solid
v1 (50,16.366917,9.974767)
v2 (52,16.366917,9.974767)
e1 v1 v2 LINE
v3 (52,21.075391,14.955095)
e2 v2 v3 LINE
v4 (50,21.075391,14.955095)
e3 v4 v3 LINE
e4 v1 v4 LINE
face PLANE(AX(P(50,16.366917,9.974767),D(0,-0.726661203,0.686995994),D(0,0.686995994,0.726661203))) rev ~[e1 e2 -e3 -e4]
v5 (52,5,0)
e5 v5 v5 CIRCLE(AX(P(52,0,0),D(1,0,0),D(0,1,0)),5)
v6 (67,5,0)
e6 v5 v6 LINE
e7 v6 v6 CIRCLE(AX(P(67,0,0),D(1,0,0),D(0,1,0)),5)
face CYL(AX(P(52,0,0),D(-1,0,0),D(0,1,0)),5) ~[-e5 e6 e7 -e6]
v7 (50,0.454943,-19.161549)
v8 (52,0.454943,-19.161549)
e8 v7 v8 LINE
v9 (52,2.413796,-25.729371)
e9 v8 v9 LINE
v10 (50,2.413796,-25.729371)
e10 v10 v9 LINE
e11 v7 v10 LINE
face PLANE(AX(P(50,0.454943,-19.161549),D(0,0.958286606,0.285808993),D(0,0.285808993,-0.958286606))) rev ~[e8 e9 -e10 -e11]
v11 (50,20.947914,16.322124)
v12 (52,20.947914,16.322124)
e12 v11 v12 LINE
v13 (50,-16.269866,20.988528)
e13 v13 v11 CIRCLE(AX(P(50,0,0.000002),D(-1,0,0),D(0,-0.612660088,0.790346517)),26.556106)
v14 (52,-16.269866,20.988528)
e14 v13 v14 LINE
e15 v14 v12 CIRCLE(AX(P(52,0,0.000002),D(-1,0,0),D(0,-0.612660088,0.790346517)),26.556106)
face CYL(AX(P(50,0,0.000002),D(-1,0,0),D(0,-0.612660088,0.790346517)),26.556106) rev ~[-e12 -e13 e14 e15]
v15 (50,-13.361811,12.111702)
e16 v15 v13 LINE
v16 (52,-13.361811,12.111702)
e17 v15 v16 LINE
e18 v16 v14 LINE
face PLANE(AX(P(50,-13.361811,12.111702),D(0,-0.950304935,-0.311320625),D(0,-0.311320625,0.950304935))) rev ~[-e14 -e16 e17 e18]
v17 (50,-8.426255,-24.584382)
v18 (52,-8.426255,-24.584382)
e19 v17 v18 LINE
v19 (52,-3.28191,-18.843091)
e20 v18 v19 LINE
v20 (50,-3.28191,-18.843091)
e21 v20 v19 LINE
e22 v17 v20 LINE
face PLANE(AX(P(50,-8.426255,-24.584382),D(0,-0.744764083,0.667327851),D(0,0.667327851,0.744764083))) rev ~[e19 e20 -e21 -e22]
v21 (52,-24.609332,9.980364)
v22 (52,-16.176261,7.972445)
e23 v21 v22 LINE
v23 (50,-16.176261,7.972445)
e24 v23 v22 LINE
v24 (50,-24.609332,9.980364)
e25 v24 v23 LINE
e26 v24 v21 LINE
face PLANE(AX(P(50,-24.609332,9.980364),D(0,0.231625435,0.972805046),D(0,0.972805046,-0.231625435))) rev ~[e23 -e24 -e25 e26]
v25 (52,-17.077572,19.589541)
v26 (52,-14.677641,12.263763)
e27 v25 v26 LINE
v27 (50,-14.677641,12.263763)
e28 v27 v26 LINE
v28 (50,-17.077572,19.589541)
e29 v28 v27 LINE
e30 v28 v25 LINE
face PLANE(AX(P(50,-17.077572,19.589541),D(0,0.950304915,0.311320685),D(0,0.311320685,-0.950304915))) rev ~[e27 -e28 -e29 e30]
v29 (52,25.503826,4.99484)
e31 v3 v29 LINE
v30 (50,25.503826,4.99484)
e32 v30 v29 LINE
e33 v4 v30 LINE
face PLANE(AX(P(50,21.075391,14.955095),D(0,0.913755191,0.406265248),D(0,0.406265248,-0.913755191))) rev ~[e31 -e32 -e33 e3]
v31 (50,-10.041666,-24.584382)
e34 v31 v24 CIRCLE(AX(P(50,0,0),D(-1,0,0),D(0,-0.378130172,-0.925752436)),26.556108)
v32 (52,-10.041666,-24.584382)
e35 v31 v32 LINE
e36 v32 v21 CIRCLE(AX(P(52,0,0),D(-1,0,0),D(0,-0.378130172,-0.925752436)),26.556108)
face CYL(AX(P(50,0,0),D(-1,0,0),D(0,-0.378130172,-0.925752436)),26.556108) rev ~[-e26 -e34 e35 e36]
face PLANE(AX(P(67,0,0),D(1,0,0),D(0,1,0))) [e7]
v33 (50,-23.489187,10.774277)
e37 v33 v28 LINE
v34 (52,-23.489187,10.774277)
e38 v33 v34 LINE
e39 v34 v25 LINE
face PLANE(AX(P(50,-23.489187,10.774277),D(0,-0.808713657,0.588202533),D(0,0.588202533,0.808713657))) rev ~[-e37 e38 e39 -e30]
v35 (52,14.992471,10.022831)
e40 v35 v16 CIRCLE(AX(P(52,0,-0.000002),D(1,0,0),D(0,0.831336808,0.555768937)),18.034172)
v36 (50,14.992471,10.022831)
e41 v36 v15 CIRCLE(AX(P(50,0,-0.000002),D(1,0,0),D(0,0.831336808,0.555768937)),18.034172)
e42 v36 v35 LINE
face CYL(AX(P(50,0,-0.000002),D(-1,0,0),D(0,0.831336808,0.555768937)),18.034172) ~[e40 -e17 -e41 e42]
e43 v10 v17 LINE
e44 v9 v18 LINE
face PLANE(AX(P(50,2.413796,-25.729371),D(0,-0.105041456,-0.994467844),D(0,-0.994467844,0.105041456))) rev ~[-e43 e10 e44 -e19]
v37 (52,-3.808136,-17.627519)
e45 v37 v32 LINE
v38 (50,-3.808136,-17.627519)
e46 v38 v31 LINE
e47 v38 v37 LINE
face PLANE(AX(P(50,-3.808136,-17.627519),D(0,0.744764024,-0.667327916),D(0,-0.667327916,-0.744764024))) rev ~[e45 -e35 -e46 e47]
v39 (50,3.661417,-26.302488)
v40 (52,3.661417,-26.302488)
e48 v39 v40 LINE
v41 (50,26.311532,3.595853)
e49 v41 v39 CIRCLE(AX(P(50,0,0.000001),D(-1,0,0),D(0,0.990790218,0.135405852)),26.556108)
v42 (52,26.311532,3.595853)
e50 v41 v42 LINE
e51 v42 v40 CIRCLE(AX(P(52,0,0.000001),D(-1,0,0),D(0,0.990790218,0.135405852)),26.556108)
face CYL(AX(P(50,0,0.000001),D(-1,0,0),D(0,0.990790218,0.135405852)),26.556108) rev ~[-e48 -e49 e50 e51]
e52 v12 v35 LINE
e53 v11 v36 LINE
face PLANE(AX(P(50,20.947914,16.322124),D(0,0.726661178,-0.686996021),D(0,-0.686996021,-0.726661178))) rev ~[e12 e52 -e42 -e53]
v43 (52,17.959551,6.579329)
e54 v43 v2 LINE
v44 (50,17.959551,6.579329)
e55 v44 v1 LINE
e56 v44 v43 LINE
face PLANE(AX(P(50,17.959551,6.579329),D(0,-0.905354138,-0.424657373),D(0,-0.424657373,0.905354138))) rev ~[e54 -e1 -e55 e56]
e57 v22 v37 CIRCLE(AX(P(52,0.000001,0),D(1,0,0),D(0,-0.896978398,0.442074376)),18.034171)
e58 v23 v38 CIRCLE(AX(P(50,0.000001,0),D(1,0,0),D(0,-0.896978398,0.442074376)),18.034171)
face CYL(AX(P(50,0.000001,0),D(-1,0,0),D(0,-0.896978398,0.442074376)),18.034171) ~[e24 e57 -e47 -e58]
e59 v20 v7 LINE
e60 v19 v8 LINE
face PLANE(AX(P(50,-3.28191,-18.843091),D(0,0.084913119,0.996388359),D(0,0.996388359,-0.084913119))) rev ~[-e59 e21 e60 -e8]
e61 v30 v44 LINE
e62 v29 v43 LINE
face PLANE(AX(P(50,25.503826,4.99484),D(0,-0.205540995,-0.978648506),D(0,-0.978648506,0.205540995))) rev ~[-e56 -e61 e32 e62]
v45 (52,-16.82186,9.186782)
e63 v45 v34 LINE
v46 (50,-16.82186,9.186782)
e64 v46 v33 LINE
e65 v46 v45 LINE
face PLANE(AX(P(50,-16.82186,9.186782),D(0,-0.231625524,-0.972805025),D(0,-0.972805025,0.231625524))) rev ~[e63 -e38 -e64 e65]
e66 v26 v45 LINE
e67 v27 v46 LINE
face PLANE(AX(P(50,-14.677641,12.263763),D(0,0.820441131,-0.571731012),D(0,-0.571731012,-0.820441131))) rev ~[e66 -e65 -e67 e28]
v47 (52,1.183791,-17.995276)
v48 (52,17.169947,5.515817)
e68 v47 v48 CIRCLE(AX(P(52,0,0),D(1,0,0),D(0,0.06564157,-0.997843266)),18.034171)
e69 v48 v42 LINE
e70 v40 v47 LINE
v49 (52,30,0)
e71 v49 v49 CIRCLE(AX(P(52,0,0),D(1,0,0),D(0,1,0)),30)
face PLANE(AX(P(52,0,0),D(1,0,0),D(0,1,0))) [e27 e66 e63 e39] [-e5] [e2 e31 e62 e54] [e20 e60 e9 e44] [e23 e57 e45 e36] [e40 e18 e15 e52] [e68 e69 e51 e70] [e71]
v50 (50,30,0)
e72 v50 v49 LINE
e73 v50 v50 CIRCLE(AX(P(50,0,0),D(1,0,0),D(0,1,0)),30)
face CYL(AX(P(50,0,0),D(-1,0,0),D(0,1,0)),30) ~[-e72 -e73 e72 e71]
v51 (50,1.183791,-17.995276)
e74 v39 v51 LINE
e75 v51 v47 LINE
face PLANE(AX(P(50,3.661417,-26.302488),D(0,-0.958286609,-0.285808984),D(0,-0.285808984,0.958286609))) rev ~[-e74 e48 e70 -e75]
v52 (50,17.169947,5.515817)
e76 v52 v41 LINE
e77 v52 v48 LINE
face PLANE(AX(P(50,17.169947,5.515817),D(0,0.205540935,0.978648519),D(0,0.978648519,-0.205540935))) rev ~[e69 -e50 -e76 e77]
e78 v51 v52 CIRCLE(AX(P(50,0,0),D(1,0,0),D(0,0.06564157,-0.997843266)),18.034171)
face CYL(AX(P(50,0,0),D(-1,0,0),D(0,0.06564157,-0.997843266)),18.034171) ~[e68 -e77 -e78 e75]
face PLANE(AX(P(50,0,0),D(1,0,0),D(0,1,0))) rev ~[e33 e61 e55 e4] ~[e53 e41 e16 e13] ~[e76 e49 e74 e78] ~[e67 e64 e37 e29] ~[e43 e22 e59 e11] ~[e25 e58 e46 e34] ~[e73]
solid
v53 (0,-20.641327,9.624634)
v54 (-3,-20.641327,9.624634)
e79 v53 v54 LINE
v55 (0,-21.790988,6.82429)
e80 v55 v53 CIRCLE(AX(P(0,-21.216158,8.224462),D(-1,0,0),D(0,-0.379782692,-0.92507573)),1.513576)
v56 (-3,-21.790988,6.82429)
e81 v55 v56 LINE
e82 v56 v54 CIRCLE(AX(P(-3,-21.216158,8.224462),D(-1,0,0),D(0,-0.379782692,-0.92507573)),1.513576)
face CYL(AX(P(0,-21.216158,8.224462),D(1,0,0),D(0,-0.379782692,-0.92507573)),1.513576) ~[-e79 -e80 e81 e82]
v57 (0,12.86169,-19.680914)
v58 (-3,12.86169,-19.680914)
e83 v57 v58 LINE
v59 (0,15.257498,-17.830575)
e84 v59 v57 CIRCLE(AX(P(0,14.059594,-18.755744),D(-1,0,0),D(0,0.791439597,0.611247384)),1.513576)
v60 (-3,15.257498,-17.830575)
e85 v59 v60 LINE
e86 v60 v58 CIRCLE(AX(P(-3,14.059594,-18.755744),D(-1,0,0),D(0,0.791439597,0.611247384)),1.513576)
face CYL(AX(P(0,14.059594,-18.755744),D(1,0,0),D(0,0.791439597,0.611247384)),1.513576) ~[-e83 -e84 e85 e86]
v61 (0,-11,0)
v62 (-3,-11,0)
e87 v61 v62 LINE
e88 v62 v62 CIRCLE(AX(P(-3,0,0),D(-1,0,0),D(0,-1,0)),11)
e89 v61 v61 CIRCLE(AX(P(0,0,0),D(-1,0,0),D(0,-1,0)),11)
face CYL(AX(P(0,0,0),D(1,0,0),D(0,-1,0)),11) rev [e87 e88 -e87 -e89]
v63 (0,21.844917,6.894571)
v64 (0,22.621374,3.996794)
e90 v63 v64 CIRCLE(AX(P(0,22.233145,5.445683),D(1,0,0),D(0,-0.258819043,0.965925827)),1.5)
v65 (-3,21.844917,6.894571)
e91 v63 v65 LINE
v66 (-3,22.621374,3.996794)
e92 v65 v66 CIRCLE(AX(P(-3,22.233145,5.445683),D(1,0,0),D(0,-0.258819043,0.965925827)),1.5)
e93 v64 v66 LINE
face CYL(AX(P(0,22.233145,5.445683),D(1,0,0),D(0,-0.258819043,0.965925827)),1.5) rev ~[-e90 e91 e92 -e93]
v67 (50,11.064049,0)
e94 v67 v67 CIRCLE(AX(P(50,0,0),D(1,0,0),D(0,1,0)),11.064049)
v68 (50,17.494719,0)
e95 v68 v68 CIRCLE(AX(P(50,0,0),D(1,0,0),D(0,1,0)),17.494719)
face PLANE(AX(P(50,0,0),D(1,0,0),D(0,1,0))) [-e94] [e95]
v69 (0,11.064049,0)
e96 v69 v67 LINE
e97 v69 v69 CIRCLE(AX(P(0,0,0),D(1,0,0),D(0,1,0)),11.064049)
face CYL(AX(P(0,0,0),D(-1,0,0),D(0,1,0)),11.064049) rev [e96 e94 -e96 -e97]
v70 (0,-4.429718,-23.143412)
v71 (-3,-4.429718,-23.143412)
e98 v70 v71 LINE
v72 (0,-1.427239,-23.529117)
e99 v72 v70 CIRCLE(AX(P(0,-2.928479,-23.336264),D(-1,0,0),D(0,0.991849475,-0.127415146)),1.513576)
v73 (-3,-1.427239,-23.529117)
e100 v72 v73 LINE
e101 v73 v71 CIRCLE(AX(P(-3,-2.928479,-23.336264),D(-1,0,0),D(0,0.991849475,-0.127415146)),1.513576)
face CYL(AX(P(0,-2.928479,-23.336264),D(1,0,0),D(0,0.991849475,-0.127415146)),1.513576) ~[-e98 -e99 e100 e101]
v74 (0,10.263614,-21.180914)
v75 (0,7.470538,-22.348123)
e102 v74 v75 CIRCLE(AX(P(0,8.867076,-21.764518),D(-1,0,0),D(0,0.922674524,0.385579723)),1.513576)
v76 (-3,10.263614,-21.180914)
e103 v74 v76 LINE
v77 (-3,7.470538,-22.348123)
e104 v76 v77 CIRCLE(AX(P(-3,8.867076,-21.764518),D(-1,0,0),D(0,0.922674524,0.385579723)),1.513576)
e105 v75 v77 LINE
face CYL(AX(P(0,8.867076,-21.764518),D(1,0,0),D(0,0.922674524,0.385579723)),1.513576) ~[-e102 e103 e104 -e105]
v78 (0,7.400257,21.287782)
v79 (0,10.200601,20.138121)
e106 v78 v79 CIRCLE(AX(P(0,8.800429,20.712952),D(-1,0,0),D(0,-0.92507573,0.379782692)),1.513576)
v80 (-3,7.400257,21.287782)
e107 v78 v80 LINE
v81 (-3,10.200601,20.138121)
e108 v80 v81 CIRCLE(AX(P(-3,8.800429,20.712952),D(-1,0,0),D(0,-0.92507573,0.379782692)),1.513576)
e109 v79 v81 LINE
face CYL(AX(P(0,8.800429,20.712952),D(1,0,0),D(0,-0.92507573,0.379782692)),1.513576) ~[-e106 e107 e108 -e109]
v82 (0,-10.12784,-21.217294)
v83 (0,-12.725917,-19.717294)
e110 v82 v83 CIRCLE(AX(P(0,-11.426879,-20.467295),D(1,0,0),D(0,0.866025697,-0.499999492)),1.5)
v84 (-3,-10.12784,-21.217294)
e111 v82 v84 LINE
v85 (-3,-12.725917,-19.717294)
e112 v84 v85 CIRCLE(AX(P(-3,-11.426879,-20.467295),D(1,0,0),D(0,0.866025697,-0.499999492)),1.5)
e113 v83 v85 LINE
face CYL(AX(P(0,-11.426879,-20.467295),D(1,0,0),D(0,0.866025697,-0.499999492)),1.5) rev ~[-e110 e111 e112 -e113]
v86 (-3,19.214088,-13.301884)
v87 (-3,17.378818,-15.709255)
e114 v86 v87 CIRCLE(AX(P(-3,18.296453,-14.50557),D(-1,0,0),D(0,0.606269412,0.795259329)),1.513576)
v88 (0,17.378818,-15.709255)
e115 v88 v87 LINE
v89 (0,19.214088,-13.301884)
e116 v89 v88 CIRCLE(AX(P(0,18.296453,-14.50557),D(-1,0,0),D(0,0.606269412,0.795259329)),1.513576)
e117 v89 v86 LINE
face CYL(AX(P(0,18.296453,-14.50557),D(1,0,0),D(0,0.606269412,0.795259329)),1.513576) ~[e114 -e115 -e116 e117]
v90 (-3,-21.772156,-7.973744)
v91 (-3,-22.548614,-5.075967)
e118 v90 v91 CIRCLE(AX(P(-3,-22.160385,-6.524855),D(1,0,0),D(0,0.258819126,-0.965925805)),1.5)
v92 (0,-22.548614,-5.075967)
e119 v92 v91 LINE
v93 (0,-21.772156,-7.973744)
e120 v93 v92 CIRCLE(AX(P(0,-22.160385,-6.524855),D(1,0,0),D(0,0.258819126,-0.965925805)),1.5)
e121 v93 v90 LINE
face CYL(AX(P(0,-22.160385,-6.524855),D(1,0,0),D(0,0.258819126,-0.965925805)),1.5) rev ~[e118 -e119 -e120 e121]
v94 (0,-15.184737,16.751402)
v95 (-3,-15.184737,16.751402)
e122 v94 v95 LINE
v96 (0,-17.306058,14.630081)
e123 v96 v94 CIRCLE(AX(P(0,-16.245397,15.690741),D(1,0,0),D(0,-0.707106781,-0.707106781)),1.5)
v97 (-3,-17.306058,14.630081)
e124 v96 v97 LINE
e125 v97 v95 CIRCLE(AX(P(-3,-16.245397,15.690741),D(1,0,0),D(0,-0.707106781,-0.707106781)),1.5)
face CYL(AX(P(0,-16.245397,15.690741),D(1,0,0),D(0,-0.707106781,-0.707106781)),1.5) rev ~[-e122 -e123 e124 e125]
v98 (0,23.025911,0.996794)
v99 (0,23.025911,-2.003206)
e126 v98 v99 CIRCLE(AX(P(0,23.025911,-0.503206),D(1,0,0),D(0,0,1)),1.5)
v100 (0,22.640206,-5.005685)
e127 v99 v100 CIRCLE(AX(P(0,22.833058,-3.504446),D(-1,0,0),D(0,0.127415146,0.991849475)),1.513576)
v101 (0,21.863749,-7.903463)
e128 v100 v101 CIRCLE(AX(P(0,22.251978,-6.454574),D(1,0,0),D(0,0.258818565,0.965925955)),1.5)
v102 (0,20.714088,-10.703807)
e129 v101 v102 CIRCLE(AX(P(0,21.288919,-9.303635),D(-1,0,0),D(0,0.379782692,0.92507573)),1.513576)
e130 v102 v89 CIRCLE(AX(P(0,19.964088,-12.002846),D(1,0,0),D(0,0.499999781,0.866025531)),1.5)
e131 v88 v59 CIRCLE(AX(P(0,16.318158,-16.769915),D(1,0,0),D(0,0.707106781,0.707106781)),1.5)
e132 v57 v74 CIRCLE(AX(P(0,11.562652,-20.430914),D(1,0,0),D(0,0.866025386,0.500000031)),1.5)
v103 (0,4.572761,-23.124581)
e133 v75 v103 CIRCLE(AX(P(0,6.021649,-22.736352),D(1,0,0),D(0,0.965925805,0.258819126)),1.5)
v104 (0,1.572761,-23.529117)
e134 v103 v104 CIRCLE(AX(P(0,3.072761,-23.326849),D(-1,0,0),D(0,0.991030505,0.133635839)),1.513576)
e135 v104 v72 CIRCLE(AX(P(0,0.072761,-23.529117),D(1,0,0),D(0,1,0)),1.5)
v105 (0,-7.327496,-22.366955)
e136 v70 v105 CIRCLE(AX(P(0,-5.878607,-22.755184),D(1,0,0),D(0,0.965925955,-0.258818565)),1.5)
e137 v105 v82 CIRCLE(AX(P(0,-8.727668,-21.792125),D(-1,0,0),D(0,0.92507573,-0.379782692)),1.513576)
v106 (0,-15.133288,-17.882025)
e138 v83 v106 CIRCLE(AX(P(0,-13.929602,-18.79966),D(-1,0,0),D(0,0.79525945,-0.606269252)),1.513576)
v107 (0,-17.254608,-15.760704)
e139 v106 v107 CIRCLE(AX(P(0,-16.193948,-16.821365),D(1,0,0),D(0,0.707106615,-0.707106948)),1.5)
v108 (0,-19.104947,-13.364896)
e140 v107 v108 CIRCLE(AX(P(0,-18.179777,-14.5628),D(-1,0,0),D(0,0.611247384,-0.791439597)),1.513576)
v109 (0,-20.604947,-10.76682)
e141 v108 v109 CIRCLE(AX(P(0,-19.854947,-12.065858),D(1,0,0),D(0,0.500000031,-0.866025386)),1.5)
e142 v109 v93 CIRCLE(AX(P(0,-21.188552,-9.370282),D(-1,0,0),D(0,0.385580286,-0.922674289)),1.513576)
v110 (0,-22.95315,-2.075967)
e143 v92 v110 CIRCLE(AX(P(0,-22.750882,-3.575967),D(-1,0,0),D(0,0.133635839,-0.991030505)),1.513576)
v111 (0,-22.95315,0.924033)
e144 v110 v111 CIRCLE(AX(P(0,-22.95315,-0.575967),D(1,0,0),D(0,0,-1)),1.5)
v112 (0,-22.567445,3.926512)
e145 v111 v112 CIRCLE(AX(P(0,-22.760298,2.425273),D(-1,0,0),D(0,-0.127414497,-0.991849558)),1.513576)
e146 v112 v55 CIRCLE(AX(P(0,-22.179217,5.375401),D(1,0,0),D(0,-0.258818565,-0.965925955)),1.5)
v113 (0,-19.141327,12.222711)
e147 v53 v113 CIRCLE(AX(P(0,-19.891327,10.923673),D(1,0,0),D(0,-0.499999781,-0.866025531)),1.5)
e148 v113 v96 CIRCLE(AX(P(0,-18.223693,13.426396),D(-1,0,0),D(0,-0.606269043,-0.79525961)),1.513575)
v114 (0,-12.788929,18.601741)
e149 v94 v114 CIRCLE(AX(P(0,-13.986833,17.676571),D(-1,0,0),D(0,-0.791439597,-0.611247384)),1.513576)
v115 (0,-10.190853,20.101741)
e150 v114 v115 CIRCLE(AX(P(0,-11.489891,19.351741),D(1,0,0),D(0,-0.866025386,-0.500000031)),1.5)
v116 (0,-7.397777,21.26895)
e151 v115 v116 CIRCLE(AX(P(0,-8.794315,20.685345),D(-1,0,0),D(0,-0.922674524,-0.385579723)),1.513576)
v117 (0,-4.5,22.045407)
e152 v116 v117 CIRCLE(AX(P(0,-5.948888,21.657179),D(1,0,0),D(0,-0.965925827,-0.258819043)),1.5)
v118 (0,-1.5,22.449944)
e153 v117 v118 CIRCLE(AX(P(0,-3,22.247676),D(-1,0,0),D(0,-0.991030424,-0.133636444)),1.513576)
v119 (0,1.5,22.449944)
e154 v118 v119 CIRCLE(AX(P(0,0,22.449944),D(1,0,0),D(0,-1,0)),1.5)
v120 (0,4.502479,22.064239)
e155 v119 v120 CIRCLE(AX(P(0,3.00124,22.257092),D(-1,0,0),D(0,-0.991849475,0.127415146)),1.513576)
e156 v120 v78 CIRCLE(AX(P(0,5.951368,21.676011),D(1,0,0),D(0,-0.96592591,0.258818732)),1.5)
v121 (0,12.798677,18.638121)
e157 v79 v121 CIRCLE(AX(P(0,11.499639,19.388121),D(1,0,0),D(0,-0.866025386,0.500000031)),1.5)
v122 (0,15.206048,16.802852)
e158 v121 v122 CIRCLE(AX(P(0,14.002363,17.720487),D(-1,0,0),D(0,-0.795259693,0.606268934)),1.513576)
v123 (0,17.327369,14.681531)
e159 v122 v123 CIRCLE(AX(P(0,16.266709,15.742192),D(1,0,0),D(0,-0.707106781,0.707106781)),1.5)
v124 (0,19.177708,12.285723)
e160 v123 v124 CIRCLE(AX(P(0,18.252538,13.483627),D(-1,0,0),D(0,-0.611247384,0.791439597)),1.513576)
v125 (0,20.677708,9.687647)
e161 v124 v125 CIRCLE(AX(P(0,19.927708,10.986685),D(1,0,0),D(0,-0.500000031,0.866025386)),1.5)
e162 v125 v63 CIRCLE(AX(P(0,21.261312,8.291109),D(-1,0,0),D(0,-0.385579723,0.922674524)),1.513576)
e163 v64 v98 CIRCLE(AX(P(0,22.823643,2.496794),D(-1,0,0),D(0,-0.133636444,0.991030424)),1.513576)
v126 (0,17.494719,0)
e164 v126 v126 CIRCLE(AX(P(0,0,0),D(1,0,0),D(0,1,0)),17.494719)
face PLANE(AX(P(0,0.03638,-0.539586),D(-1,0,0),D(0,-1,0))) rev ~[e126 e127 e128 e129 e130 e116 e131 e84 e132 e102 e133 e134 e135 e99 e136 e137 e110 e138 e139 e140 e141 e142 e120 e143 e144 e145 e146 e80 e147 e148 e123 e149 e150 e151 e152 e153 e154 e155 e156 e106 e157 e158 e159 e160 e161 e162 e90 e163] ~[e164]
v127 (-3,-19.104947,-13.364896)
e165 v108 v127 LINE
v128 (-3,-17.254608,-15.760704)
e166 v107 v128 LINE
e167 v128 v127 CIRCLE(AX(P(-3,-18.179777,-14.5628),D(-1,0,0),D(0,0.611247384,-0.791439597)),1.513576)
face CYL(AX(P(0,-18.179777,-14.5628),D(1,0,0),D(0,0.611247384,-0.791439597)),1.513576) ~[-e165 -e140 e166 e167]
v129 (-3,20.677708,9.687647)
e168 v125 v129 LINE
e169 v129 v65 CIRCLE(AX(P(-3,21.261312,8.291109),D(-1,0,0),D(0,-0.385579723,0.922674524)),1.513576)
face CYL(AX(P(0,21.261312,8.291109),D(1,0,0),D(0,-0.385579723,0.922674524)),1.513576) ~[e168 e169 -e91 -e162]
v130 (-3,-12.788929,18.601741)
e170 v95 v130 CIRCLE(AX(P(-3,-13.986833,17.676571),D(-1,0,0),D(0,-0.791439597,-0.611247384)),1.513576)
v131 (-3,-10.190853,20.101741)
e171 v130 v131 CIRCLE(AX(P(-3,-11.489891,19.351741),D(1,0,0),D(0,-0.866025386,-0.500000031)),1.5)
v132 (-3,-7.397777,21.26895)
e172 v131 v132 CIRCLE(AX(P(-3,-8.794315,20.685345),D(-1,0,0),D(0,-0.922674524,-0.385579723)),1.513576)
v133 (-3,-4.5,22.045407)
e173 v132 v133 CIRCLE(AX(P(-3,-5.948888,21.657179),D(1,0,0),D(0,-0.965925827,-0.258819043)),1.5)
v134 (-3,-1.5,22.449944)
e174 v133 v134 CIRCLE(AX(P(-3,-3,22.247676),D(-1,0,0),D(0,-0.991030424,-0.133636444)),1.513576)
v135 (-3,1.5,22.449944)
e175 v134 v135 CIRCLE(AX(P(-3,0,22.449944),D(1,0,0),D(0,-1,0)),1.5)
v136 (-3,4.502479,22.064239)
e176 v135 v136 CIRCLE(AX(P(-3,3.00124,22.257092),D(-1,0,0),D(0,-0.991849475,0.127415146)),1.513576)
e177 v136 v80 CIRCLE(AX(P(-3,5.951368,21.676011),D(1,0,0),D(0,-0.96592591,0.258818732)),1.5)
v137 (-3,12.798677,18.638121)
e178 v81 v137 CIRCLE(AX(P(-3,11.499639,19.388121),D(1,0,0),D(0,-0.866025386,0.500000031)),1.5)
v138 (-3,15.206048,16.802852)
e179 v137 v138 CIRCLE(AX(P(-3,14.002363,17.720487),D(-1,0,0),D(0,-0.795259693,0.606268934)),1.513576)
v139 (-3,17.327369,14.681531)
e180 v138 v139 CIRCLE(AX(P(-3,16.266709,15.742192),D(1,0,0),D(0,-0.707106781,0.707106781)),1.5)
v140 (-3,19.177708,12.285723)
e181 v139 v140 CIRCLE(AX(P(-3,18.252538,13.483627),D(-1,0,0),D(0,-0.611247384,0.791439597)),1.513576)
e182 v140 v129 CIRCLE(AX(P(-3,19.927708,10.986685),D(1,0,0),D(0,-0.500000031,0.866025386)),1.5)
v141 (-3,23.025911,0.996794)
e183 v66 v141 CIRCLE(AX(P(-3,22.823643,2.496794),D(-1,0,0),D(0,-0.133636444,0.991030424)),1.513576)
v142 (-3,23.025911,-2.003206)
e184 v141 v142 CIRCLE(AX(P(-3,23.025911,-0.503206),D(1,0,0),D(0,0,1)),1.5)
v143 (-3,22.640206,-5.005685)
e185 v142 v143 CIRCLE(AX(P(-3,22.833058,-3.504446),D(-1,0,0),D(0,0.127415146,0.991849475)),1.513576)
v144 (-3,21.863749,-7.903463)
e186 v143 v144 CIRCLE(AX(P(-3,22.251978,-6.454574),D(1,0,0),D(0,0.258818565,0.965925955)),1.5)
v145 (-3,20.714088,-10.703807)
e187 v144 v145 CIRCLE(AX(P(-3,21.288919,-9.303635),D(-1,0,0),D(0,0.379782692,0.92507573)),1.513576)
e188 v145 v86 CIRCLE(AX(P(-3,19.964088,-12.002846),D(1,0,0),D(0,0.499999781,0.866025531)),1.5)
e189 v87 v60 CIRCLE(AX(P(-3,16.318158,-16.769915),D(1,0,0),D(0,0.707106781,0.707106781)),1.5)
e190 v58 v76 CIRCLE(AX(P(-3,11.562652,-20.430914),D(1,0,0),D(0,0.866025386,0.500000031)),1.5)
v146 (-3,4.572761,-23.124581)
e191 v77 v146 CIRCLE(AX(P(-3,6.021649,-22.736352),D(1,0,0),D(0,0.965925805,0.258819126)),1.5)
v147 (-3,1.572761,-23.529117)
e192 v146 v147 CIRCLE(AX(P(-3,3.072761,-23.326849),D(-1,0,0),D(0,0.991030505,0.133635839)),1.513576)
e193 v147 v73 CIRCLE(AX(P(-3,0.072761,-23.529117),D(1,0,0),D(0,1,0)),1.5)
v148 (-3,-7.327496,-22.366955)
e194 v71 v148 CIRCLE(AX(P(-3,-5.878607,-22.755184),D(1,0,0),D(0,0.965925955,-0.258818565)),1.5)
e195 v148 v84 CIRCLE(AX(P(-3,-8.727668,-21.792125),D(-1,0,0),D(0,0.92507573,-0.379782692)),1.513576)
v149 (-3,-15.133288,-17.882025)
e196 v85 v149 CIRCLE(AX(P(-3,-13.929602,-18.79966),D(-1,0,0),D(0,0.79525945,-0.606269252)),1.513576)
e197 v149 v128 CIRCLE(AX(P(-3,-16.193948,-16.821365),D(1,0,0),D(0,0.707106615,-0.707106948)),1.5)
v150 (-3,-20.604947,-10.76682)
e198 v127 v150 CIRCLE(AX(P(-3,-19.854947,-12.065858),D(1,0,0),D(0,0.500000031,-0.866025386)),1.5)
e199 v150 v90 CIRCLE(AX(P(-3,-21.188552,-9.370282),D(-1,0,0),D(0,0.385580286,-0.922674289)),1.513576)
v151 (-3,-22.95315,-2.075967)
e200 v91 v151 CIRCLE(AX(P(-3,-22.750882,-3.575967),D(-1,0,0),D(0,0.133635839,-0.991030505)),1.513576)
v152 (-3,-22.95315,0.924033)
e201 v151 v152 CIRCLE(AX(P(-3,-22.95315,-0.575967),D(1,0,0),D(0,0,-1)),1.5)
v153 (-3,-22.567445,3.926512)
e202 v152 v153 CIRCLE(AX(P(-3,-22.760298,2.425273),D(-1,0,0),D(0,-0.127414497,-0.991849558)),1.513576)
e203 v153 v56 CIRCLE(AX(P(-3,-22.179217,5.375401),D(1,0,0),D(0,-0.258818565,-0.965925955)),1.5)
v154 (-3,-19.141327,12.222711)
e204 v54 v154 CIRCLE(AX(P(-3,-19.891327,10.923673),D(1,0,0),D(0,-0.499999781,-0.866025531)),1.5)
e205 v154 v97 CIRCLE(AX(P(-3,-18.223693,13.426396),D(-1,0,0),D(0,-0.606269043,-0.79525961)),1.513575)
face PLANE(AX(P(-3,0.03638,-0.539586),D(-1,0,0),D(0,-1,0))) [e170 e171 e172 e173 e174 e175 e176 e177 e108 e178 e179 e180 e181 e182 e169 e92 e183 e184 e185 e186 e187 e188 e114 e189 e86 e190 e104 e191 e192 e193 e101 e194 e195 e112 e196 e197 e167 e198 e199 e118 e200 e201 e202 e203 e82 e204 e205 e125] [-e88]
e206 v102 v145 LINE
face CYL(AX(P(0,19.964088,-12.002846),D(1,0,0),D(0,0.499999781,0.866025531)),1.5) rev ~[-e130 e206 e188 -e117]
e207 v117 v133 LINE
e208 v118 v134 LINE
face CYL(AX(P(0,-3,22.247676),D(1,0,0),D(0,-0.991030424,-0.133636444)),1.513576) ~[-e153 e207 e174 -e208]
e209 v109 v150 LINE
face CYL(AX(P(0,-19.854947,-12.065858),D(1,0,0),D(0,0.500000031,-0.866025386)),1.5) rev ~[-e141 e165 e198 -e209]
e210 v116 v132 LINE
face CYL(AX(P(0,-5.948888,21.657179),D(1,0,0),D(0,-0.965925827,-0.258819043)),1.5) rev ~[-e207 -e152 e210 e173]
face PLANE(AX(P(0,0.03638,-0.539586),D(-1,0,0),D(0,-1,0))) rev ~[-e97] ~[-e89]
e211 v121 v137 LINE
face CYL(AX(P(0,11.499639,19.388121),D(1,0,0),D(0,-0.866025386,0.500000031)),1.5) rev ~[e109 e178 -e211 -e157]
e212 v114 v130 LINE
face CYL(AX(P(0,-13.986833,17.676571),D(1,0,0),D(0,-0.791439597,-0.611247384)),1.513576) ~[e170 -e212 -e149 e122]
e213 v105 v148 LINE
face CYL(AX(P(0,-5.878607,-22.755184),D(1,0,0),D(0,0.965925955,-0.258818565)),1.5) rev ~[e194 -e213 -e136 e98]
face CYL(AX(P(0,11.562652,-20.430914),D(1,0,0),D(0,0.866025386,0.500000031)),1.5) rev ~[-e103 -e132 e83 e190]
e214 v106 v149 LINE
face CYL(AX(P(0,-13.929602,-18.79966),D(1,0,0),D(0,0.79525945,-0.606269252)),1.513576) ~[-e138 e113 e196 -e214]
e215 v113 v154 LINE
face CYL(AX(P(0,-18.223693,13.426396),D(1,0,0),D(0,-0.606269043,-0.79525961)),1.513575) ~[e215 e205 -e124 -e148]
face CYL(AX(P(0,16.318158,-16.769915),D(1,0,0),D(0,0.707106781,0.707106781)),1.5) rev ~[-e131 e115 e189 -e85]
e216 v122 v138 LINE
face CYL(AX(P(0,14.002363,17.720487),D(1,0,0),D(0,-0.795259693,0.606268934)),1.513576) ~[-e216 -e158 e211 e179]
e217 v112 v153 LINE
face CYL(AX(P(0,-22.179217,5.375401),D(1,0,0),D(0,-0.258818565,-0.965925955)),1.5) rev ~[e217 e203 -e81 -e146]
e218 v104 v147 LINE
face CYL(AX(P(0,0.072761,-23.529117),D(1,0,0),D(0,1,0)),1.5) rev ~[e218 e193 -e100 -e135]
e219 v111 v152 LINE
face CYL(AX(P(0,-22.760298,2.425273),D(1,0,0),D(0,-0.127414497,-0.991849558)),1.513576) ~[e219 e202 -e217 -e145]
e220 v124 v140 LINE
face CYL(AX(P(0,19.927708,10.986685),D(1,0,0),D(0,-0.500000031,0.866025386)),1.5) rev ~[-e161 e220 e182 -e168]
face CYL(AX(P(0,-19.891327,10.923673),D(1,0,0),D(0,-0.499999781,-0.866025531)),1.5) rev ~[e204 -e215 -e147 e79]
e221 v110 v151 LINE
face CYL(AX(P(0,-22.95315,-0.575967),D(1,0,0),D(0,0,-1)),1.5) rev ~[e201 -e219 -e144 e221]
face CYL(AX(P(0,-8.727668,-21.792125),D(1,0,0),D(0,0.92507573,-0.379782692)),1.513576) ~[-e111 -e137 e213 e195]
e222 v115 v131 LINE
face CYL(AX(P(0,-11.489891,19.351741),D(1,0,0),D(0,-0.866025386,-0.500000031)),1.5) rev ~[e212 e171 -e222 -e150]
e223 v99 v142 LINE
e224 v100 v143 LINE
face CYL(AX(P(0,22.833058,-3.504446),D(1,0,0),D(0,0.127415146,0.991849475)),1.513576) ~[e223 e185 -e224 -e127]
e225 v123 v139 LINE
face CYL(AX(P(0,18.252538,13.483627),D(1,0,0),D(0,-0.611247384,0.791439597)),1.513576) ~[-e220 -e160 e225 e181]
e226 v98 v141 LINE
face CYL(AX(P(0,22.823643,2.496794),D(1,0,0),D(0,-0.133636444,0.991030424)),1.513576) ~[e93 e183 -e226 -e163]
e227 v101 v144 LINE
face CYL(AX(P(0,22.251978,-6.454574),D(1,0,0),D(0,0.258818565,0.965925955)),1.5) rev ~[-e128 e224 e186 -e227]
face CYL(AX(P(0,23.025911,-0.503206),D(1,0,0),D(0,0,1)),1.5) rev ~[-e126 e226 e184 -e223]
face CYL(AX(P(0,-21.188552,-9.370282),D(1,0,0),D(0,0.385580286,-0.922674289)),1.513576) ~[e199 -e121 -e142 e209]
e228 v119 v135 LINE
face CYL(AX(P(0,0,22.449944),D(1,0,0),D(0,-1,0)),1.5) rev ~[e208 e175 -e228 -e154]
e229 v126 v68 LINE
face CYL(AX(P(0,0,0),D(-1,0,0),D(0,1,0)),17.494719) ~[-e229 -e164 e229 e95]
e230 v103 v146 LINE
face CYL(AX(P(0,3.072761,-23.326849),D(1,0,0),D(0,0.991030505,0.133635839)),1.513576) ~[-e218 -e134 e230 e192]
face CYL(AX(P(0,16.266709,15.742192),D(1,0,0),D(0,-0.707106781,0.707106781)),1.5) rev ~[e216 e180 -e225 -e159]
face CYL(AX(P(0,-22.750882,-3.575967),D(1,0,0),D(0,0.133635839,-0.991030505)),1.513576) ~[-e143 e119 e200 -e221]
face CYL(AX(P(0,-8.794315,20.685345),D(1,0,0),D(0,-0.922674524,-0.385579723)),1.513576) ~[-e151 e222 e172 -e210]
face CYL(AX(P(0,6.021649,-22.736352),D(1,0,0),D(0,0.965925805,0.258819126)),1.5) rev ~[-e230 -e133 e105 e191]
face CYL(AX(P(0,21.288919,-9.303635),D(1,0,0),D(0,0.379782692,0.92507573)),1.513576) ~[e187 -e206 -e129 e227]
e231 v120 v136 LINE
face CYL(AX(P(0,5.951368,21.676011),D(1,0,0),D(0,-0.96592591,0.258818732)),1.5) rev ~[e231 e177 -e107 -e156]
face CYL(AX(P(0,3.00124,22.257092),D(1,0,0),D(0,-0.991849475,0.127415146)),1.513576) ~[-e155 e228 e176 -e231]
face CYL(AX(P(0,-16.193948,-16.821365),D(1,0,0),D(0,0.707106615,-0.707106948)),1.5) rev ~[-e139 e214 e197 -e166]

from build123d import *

# Parameters (mm, degrees)
F0_R     = 17.494719
F0_R_2   = 11.064049
F1_DEPTH = 50
F2_R     = 11
F3_DEPTH = 3
F4_R     = 30
F5_DEPTH = 2
F6_R     = 5
F7_DEPTH = 15


with BuildPart() as f1:
    # F0 (on Right) → F1 (new body)
    with BuildSketch(Plane.YZ):
        Circle(F0_R)
        Circle(F0_R_2, mode=Mode.SUBTRACT)
    extrude(amount=F1_DEPTH)

    # F2 (on face) → F3 (join)
    with BuildSketch(Plane(origin=(0, 0, 0), x_dir=(0, -1, 0), z_dir=(-1, 0, 0))):
        with BuildLine():
            ThreePointArc((1.5, 22.449944), (0, 20.949944), (-1.5, 22.449944))
            ThreePointArc((-1.5, 22.449944), (-3.194092, 23.758331), (-4.502479, 22.064239))
            ThreePointArc((-4.502479, 22.064239), (-5.563139, 20.227122), (-7.400257, 21.287782))
            ThreePointArc((-7.400257, 21.287782), (-9.37526, 22.113124), (-10.200601, 20.138121))
            ThreePointArc((-10.200601, 20.138121), (-10.749639, 18.089083), (-12.798677, 18.638121))
            ThreePointArc((-12.798677, 18.638121), (-14.919998, 18.924172), (-15.206048, 16.802852))
            ThreePointArc((-15.206048, 16.802852), (-15.206048, 14.681531), (-17.327369, 14.681531))
            ThreePointArc((-17.327369, 14.681531), (-19.450442, 14.408797), (-19.177708, 12.285723))
            ThreePointArc((-19.177708, 12.285723), (-18.62867, 10.236685), (-20.677708, 9.687647))
            ThreePointArc((-20.677708, 9.687647), (-22.65785, 8.874714), (-21.844917, 6.894571))
            ThreePointArc((-21.844917, 6.894571), (-20.784257, 5.057454), (-22.621374, 3.996794))
            ThreePointArc((-22.621374, 3.996794), (-24.323643, 2.699062), (-23.025911, 0.996794))
            ThreePointArc((-23.025911, 0.996794), (-21.525911, -0.503206), (-23.025911, -2.003206))
            ThreePointArc((-23.025911, -2.003206), (-24.334298, -3.697298), (-22.640206, -5.005685))
            ThreePointArc((-22.640206, -5.005685), (-20.803089, -6.066346), (-21.863749, -7.903463))
            ThreePointArc((-21.863749, -7.903463), (-22.689091, -9.878466), (-20.714088, -10.703807))
            ThreePointArc((-20.714088, -10.703807), (-18.66505, -11.252845), (-19.214088, -13.301884))
            ThreePointArc((-19.214088, -13.301884), (-19.500139, -15.423204), (-17.378818, -15.709255))
            ThreePointArc((-17.378818, -15.709255), (-15.257498, -15.709255), (-15.257498, -17.830575))
            ThreePointArc((-15.257498, -17.830575), (-14.984764, -19.953648), (-12.86169, -19.680914))
            ThreePointArc((-12.86169, -19.680914), (-10.812652, -19.131876), (-10.263614, -21.180914))
            ThreePointArc((-10.263614, -21.180914), (-9.450681, -23.161056), (-7.470538, -22.348123))
            ThreePointArc((-7.470538, -22.348123), (-5.633421, -21.287463), (-4.572761, -23.124581))
            ThreePointArc((-4.572761, -23.124581), (-3.275029, -24.826849), (-1.572761, -23.529117))
            ThreePointArc((-1.572761, -23.529117), (-0.072761, -22.029117), (1.427239, -23.529117))
            ThreePointArc((1.427239, -23.529117), (3.121331, -24.837504), (4.429718, -23.143412))
            ThreePointArc((4.429718, -23.143412), (5.490379, -21.306295), (7.327496, -22.366955))
            ThreePointArc((7.327496, -22.366955), (9.302499, -23.192297), (10.12784, -21.217294))
            ThreePointArc((10.12784, -21.217294), (10.676879, -19.168256), (12.725917, -19.717294))
            ThreePointArc((12.725917, -19.717294), (14.847237, -20.003345), (15.133288, -17.882025))
            ThreePointArc((15.133288, -17.882025), (15.133288, -15.760704), (17.254608, -15.760704))
            ThreePointArc((17.254608, -15.760704), (19.377681, -15.48797), (19.104947, -13.364896))
            ThreePointArc((19.104947, -13.364896), (18.555909, -11.315858), (20.604947, -10.76682))
            ThreePointArc((20.604947, -10.76682), (22.58509, -9.953887), (21.772156, -7.973744))
            ThreePointArc((21.772156, -7.973744), (20.711496, -6.136627), (22.548614, -5.075967))
            ThreePointArc((22.548614, -5.075967), (24.250882, -3.778235), (22.95315, -2.075967))
            ThreePointArc((22.95315, -2.075967), (21.45315, -0.575967), (22.95315, 0.924033))
            ThreePointArc((22.95315, 0.924033), (24.261538, 2.618125), (22.567445, 3.926512))
            ThreePointArc((22.567445, 3.926512), (20.730328, 4.987173), (21.790988, 6.82429))
            ThreePointArc((21.790988, 6.82429), (22.61633, 8.799293), (20.641327, 9.624634))
            ThreePointArc((20.641327, 9.624634), (18.592289, 10.173672), (19.141327, 12.222711))
            ThreePointArc((19.141327, 12.222711), (19.427378, 14.344031), (17.306058, 14.630081))
            ThreePointArc((17.306058, 14.630081), (15.184737, 14.630081), (15.184737, 16.751402))
            ThreePointArc((15.184737, 16.751402), (14.912003, 18.874475), (12.788929, 18.601741))
            ThreePointArc((12.788929, 18.601741), (10.739891, 18.052703), (10.190853, 20.101741))
            ThreePointArc((10.190853, 20.101741), (9.37792, 22.081883), (7.397777, 21.26895))
            ThreePointArc((7.397777, 21.26895), (5.56066, 20.20829), (4.5, 22.045407))
            ThreePointArc((4.5, 22.045407), (3.202268, 23.747676), (1.5, 22.449944))
        make_face()
        Circle(F2_R, mode=Mode.SUBTRACT)
    extrude(amount=F3_DEPTH)


with BuildPart() as f5:
    # F4 (on face) → F5 (new body)
    with BuildSketch(Plane.YZ.offset(50)):
        Circle(F4_R)
        Polygon((0.454943, -19.161549), (2.413796, -25.729371), (-8.426255, -24.584382), (-3.28191, -18.843091), align=None, mode=Mode.SUBTRACT)
        with BuildLine():
            Line((-24.609332, 9.980364), (-16.176261, 7.972445))
            ThreePointArc((-16.176261, 7.972445), (-16.238336, -7.845237), (-3.808136, -17.627519))
            Line((-3.808136, -17.627519), (-10.041666, -24.584382))
            ThreePointArc((-10.041666, -24.584382), (-24.47148, -10.313756), (-24.609332, 9.980364))
        make_face(mode=Mode.SUBTRACT)
        with BuildLine():
            ThreePointArc((26.311532, 3.595853), (21.167714, -16.036045), (3.661417, -26.302488))
            Line((3.661417, -26.302488), (1.183791, -17.995276))
            ThreePointArc((1.183791, -17.995276), (14.913343, -10.140193), (17.169947, 5.515817))
            Line((17.169947, 5.515817), (26.311532, 3.595853))
        make_face(mode=Mode.SUBTRACT)
        Polygon((-23.489187, 10.774277), (-17.077572, 19.589541), (-14.677641, 12.263763), (-16.82186, 9.186782), align=None, mode=Mode.SUBTRACT)
        Polygon((21.075391, 14.955095), (25.503826, 4.99484), (17.959551, 6.579329), (16.366917, 9.974767), align=None, mode=Mode.SUBTRACT)
        with BuildLine():
            Line((20.947914, 16.322124), (14.992471, 10.022831))
            ThreePointArc((14.992471, 10.022831), (1.324994, 17.98543), (-13.361811, 12.111702))
            Line((-13.361811, 12.111702), (-16.269866, 20.988528))
            ThreePointArc((-16.269866, 20.988528), (3.303765, 26.349801), (20.947914, 16.322124))
        make_face(mode=Mode.SUBTRACT)
    extrude(amount=F5_DEPTH)

    # F6 (on face) → F7 (join)
    with BuildSketch(Plane.YZ.offset(52)):
        Circle(F6_R)
    extrude(amount=F7_DEPTH)


solid = Compound([f1.part, f5.part])
